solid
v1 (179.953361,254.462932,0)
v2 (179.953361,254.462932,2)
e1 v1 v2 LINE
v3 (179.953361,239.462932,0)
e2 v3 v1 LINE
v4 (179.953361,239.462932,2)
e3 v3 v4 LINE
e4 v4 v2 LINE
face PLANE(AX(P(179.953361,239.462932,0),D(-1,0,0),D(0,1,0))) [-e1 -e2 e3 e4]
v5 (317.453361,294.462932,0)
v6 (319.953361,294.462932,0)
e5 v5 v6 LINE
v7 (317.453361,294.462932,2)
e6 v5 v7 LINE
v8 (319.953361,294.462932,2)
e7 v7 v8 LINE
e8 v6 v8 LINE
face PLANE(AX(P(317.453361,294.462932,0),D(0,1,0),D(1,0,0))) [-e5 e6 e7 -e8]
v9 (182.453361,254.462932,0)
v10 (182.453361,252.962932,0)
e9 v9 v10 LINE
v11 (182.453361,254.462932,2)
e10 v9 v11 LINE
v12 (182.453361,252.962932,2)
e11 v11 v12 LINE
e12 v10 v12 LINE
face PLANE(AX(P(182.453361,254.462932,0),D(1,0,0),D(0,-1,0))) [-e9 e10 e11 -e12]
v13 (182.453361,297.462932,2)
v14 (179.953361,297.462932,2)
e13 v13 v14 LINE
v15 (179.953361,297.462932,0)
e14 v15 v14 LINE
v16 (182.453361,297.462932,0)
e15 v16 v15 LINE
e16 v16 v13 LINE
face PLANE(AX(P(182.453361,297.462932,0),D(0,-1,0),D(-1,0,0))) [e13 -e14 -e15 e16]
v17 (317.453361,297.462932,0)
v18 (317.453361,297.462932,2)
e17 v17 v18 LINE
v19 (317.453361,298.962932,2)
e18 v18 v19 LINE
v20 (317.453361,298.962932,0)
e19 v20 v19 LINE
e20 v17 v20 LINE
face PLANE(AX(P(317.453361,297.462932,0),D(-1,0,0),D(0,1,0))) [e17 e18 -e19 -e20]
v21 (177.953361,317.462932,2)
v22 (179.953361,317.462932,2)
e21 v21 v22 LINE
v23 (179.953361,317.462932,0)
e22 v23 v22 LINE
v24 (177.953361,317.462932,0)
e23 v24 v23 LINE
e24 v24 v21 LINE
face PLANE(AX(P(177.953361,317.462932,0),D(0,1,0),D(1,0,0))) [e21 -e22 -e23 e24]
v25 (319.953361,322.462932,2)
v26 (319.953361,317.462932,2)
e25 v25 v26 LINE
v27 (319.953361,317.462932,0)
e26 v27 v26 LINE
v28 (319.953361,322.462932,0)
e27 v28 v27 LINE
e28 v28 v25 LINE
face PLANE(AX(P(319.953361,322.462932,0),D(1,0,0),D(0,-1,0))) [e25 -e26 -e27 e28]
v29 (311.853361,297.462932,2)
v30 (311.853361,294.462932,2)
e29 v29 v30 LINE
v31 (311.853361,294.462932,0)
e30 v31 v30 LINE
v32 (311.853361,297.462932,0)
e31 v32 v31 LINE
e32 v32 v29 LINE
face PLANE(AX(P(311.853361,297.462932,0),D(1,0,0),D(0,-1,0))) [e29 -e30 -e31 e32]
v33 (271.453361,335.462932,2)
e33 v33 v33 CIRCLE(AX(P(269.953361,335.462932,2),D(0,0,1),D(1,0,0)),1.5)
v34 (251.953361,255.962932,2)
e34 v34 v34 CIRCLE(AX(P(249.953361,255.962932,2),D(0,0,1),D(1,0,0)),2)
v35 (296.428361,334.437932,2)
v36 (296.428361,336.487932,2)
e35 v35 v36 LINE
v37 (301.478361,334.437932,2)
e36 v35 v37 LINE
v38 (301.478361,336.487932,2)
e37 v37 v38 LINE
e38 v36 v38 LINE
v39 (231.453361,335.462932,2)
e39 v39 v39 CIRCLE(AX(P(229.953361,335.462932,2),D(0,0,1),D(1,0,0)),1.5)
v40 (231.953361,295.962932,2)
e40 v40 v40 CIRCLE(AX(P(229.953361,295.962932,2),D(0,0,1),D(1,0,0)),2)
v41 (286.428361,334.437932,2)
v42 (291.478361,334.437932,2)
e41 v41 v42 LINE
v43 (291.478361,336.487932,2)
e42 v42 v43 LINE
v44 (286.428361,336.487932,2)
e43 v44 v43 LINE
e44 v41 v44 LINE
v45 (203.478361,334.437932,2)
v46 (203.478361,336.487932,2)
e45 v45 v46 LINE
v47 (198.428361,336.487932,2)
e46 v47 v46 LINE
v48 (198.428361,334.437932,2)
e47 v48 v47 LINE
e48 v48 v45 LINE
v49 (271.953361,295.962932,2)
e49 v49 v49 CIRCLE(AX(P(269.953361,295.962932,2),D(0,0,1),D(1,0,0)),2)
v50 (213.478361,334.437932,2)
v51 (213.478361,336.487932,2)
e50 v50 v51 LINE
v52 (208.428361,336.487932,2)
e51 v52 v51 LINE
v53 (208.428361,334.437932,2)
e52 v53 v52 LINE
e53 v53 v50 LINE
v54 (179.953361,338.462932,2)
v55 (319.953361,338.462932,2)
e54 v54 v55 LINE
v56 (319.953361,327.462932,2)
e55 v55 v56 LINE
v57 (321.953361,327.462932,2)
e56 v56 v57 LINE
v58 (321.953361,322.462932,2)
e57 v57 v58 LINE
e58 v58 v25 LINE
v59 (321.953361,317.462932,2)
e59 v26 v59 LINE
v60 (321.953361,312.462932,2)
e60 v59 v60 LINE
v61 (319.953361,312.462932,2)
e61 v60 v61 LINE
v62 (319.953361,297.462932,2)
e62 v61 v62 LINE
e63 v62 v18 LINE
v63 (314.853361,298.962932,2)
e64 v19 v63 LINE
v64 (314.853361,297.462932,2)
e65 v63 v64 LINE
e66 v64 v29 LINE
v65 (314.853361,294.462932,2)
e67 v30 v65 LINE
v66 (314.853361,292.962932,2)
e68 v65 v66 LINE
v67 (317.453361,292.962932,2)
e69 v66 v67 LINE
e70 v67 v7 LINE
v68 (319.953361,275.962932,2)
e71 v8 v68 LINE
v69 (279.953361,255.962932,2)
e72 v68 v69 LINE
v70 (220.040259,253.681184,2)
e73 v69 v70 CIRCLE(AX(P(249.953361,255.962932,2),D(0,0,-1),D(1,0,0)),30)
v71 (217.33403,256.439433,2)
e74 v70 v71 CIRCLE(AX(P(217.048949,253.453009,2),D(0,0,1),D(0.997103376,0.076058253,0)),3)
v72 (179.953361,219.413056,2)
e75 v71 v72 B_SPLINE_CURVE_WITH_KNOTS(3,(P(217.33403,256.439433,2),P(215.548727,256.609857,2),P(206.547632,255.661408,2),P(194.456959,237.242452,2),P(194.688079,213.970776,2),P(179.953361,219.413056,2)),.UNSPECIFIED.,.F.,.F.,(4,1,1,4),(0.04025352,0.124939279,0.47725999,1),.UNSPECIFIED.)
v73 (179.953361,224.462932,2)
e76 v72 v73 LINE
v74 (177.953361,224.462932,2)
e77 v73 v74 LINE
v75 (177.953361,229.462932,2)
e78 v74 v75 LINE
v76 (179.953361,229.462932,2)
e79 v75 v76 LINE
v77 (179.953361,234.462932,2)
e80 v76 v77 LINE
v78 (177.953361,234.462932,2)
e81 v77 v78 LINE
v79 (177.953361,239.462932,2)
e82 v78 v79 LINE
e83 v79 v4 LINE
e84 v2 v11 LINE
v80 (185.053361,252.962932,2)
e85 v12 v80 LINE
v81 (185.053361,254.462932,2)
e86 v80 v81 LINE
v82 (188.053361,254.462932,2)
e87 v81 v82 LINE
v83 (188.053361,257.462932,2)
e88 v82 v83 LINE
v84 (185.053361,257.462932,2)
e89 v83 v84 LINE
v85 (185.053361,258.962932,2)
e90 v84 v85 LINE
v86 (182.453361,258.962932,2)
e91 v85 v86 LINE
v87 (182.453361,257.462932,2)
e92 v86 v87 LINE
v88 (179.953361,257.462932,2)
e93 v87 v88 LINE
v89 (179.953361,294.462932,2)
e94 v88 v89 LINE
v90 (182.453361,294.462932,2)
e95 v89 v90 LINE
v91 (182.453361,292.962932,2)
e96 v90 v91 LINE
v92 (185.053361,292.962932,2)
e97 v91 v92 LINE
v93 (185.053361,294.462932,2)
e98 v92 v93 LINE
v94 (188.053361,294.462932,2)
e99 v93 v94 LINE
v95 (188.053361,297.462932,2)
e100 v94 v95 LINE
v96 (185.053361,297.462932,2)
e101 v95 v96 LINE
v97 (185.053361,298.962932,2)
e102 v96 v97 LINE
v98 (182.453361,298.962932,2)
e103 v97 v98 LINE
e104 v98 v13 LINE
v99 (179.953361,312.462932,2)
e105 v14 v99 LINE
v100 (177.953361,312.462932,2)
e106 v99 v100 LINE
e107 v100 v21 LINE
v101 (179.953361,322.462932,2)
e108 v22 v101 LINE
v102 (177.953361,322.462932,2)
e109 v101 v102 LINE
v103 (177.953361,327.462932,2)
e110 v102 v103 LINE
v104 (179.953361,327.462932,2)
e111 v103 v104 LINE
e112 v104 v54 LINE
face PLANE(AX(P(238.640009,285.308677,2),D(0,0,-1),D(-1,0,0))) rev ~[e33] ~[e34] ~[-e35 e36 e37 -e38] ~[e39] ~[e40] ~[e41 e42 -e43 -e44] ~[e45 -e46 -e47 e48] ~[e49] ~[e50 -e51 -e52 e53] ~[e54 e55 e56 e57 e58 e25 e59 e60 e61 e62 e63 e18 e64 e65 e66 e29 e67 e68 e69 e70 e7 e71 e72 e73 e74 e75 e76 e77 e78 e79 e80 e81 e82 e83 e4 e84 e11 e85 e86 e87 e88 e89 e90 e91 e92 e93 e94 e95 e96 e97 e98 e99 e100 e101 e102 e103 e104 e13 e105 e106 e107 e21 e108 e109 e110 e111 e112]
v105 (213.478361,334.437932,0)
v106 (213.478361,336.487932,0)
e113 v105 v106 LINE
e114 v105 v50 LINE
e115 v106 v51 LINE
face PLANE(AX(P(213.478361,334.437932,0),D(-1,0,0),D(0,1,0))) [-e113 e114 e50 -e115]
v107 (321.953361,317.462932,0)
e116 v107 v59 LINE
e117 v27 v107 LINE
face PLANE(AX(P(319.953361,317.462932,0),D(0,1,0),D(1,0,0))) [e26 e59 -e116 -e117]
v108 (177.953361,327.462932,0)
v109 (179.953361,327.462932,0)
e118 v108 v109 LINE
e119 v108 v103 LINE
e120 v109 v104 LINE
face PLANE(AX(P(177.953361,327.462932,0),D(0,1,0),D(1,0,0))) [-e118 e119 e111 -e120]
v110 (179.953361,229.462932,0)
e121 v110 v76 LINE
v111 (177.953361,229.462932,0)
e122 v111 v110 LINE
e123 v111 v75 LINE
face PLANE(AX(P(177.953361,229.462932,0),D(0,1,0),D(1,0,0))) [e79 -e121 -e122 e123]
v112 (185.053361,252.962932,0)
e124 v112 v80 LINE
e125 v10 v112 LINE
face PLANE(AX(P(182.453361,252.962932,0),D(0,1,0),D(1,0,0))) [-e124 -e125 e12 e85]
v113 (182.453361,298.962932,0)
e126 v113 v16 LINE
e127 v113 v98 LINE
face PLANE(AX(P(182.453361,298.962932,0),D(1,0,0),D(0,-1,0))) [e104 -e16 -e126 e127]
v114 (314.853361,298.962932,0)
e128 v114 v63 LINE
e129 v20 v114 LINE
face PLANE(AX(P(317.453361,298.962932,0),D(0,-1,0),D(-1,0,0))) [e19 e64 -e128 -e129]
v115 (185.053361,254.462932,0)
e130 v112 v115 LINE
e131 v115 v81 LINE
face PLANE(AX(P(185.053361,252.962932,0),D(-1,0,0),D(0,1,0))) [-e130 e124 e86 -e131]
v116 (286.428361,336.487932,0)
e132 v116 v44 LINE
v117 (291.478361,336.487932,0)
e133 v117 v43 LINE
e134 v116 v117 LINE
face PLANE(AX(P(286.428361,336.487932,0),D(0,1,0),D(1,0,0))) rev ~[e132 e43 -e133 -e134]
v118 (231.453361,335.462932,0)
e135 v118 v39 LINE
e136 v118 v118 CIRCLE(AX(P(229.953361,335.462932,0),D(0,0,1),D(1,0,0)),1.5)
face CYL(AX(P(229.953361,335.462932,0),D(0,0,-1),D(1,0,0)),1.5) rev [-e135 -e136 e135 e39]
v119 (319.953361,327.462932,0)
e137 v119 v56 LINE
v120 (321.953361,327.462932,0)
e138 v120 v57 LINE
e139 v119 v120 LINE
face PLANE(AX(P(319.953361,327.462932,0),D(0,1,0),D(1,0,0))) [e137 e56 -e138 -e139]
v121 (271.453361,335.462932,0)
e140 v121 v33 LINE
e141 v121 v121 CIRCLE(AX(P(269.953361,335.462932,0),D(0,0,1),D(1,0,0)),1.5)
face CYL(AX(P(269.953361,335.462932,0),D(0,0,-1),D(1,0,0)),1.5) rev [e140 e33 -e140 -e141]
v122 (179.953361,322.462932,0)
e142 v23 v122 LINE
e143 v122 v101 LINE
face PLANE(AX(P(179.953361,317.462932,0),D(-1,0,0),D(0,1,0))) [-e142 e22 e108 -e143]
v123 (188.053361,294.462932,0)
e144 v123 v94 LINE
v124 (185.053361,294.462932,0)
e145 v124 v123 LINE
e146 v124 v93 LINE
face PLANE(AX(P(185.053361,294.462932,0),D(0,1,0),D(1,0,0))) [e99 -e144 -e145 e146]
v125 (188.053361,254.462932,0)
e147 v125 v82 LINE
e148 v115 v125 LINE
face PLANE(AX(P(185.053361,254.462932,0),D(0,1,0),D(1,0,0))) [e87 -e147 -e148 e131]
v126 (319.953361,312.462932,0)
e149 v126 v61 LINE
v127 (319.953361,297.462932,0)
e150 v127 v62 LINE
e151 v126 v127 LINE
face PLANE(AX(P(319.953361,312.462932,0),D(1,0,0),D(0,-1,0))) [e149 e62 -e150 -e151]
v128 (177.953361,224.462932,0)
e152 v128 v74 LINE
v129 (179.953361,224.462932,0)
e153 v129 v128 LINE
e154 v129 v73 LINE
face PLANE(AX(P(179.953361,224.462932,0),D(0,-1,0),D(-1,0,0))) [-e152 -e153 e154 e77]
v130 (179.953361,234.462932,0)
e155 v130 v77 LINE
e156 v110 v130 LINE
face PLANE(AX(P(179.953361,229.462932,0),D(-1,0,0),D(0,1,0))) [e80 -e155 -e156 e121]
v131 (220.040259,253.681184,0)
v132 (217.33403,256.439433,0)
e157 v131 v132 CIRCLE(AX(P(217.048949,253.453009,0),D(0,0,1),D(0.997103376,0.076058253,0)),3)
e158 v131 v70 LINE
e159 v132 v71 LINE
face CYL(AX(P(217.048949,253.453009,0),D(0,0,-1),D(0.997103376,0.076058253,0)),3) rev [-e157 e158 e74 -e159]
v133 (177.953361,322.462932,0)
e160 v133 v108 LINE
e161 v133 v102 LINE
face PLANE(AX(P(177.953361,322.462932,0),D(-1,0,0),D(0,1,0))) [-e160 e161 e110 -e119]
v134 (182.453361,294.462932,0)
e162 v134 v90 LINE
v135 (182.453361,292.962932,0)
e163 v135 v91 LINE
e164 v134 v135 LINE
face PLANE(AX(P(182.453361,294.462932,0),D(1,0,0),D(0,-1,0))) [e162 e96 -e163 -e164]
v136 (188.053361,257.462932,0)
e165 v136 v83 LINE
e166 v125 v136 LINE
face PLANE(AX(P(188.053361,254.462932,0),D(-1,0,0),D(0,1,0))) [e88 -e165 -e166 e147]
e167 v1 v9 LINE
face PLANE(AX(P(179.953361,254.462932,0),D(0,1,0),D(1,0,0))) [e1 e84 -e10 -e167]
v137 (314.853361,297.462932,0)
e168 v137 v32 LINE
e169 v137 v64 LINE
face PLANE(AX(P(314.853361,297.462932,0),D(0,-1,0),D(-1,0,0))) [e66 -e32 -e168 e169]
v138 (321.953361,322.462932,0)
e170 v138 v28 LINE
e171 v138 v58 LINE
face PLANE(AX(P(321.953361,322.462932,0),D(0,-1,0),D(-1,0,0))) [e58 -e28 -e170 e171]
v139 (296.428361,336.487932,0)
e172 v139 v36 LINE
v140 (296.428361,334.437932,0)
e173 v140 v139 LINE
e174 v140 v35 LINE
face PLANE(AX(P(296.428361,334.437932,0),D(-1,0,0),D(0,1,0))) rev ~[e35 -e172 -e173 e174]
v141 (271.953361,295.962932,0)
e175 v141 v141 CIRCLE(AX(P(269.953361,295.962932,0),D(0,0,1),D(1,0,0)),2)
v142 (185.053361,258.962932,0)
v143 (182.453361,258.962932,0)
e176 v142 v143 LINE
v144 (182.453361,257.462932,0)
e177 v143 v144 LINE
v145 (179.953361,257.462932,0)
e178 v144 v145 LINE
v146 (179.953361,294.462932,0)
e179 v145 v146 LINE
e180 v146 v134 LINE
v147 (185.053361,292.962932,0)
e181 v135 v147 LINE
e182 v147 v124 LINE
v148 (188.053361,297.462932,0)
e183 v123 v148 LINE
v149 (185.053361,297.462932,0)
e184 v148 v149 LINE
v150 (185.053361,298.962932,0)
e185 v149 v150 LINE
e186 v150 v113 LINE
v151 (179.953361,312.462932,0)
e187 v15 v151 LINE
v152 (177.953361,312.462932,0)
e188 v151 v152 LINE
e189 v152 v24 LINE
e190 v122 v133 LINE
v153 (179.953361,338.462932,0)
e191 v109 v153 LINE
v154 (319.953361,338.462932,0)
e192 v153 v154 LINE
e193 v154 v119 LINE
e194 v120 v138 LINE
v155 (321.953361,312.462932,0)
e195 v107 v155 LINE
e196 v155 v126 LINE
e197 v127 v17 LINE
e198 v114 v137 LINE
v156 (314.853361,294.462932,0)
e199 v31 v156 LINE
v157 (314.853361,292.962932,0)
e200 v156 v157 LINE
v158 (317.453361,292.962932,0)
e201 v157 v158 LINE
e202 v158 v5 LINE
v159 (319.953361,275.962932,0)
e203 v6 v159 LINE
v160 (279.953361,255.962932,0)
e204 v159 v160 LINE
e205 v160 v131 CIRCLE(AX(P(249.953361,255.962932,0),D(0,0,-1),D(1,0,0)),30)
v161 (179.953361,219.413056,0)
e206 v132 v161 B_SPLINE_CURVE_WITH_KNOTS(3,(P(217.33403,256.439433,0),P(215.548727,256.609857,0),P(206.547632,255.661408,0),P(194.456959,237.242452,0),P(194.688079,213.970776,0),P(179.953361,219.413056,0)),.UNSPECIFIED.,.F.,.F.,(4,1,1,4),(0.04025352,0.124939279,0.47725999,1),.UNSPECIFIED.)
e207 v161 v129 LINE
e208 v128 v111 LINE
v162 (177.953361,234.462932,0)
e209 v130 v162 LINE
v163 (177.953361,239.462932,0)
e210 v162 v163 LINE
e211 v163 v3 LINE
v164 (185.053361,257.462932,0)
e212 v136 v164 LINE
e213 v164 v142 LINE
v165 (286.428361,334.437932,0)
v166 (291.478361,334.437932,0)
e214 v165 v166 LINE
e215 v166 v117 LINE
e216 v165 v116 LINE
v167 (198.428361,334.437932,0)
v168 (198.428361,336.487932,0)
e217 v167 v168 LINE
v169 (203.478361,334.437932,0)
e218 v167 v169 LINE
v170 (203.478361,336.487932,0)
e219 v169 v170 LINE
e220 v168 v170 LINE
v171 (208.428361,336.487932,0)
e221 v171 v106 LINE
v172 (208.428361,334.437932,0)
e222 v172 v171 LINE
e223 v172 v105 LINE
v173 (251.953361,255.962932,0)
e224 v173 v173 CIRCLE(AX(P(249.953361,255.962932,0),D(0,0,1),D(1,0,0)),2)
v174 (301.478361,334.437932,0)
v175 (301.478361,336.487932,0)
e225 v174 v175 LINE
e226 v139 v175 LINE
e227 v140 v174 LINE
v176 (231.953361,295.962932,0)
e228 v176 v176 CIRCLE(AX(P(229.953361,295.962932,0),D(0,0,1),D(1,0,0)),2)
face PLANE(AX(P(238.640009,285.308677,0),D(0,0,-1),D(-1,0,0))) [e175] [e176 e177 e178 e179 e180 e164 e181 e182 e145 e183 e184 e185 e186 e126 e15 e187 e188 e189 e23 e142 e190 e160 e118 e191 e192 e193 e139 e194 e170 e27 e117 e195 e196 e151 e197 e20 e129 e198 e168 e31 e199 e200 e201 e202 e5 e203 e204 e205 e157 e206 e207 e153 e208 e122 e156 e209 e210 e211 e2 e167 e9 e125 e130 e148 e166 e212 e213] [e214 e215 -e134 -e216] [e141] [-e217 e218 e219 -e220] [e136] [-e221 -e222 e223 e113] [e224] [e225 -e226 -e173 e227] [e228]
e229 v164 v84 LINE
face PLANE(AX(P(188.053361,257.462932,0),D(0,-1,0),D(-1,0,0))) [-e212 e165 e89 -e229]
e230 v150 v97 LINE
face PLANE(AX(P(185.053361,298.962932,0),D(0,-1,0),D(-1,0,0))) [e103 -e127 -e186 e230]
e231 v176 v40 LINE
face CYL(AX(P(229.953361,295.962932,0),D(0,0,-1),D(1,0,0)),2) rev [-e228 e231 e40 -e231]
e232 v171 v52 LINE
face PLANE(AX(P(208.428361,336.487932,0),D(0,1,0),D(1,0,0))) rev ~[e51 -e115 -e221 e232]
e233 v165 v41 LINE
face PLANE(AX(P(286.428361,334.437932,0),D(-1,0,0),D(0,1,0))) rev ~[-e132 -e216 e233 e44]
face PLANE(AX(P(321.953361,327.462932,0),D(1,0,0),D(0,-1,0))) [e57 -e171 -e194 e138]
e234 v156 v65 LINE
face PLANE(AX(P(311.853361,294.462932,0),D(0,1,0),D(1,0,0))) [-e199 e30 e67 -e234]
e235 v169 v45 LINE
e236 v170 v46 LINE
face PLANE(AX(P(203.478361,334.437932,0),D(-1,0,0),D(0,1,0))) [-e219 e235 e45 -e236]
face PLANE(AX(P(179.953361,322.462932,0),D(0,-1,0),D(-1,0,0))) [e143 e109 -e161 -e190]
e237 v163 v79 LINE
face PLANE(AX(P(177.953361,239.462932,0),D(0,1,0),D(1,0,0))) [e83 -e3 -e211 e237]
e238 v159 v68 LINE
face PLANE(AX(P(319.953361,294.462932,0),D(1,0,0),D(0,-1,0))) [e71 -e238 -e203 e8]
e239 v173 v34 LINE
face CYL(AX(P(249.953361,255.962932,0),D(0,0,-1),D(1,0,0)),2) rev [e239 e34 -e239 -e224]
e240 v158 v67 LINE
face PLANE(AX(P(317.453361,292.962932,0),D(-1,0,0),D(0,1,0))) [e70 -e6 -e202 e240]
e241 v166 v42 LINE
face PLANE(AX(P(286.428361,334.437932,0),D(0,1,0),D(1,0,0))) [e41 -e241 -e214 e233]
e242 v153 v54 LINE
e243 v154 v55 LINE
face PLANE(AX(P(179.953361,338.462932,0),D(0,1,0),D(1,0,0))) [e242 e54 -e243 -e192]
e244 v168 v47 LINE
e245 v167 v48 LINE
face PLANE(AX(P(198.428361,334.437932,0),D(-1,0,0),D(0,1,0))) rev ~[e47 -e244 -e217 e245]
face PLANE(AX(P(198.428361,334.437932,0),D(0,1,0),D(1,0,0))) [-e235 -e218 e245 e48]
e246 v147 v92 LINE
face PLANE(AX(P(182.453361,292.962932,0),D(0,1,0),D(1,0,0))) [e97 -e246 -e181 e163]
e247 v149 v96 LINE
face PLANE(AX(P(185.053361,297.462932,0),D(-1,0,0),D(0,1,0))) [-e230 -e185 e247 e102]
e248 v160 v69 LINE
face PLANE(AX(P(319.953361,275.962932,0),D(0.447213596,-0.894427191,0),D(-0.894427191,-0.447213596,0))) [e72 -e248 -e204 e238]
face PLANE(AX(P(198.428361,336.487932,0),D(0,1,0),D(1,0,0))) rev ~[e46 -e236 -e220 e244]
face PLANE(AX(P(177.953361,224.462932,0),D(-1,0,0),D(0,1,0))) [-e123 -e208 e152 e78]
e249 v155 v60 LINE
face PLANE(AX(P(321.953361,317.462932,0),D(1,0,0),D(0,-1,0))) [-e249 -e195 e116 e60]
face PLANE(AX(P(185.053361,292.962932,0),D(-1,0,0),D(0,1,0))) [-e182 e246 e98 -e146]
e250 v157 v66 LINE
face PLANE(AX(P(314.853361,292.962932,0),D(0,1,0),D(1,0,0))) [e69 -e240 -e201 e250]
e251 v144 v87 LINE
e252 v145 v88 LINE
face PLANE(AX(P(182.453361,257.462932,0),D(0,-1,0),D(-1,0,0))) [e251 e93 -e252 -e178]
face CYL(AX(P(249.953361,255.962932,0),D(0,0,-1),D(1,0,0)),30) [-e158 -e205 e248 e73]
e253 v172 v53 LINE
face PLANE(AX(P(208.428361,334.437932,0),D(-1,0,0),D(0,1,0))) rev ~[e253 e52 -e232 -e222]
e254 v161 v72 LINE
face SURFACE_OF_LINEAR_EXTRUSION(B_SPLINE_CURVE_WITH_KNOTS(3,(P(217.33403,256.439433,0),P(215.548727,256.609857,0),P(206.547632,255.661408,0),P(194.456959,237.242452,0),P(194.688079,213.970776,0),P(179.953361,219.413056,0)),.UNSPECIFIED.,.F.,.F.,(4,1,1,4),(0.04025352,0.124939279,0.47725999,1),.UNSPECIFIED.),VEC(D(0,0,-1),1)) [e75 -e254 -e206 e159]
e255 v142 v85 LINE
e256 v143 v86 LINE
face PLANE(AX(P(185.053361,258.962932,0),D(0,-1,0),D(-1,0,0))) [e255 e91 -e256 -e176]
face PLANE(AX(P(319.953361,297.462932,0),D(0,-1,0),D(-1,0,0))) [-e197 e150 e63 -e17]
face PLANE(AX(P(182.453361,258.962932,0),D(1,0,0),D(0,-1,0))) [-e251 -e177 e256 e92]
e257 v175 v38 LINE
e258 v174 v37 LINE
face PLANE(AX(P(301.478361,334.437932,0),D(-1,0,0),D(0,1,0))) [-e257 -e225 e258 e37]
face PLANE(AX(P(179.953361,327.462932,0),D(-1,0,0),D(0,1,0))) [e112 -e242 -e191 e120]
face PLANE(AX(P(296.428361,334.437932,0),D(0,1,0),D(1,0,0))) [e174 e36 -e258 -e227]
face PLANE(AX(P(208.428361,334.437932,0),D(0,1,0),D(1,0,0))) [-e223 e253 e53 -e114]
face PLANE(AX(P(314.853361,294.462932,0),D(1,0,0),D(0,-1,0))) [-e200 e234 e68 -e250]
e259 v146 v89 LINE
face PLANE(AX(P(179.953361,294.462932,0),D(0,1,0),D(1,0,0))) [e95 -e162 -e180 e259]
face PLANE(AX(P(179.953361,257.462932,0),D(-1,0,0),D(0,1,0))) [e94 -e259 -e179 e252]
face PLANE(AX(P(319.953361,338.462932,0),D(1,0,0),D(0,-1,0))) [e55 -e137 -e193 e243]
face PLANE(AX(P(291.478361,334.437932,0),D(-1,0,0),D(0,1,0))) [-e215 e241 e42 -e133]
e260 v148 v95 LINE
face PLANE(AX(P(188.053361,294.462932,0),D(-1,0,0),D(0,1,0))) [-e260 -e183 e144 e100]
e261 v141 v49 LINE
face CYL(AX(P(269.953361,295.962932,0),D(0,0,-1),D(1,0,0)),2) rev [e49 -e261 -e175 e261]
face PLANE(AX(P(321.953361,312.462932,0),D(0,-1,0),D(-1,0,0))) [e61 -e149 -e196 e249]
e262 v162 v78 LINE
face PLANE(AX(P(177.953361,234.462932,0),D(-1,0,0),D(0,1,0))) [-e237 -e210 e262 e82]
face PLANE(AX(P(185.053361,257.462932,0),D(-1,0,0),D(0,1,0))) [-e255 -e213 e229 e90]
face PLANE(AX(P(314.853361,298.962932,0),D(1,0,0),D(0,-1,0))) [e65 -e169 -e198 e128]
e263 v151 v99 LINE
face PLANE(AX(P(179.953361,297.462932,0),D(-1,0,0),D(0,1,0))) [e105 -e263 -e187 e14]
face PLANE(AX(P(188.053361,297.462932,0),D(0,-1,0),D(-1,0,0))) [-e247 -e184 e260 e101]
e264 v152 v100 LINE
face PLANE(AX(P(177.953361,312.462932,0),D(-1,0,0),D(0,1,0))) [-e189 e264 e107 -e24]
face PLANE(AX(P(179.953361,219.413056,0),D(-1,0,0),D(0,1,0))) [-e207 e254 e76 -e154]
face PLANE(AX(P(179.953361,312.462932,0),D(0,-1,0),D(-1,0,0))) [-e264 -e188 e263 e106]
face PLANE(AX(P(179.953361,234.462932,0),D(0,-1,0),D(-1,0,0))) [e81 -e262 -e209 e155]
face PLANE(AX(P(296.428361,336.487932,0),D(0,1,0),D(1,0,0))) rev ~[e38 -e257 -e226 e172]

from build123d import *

# Parameters (mm, degrees)
SKETCH_1_R      = 2
SKETCH_1_R_2    = 1.5
SKETCH_1_W      = 5.05
SKETCH_1_H      = 2.05
EXTRUDE_1_DEPTH = 2


with BuildPart() as part:
    # 草图1 → 凸台-拉伸1 (new body)
    with BuildSketch(Plane.XY):
        with BuildLine():
            Line((317.453360513, 294.462931603), (319.953360513, 294.462931603))
            Line((319.953360513, 294.462931603), (319.953360513, 275.962931603))
            Line((319.953360513, 275.962931603), (279.953360513, 255.962931603))
            ThreePointArc((279.953360513, 255.962931603), (251.095061372, 225.984664155), (220.040259237, 253.681184024))
            ThreePointArc((220.040259237, 253.681184024), (219.19036683, 255.554039999), (217.334030317, 256.439433332))
            add(Edge.make_bspline(
                [(217.334030317, 256.439433332), (215.548727104, 256.609856683), (206.547632182, 255.661407624), (194.456958912, 237.242452466), (194.688078584, 213.970775709), (179.953360513, 219.413055772)],
                knots=[0.04025352, 0.04025352, 0.04025352, 0.04025352, 0.124939279, 0.47725999, 1, 1, 1, 1], degree=3))
            Line((179.953360513, 219.413055772), (179.953360513, 224.462931603))
            Line((179.953360513, 224.462931603), (177.953360513, 224.462931603))
            Line((177.953360513, 224.462931603), (177.953360513, 229.462931603))
            Line((177.953360513, 229.462931603), (179.953360513, 229.462931603))
            Line((179.953360513, 229.462931603), (179.953360513, 234.462931603))
            Line((179.953360513, 234.462931603), (177.953360513, 234.462931603))
            Line((177.953360513, 234.462931603), (177.953360513, 239.462931603))
            Line((177.953360513, 239.462931603), (179.953360513, 239.462931603))
            Line((179.953360513, 239.462931603), (179.953360513, 254.462931603))
            Line((179.953360513, 254.462931603), (182.453360513, 254.462931603))
            Line((182.453360513, 254.462931603), (182.453360513, 252.962931602))
            Line((182.453360513, 252.962931602), (185.053360513, 252.962931602))
            Line((185.053360513, 252.962931602), (185.053360513, 254.462931603))
            Line((185.053360513, 254.462931603), (188.053360513, 254.462931603))
            Line((188.053360513, 254.462931603), (188.053360513, 257.462931602))
            Line((188.053360513, 257.462931602), (185.053360513, 257.462931602))
            Line((185.053360513, 257.462931602), (185.053360513, 258.962931602))
            Line((185.053360513, 258.962931602), (182.453360513, 258.962931602))
            Line((182.453360513, 258.962931602), (182.453360513, 257.462931603))
            Line((182.453360513, 257.462931603), (179.953360513, 257.462931603))
            Line((179.953360513, 257.462931603), (179.953360513, 294.462931603))
            Line((179.953360513, 294.462931603), (182.453360513, 294.462931603))
            Line((182.453360513, 294.462931603), (182.453360513, 292.962931603))
            Line((182.453360513, 292.962931603), (185.053360513, 292.962931603))
            Line((185.053360513, 292.962931603), (185.053360513, 294.462931603))
            Line((185.053360513, 294.462931603), (188.053360513, 294.462931603))
            Line((188.053360513, 294.462931603), (188.053360513, 297.462931603))
            Line((188.053360513, 297.462931603), (185.053360513, 297.462931603))
            Line((185.053360513, 297.462931603), (185.053360513, 298.962931603))
            Line((185.053360513, 298.962931603), (182.453360513, 298.962931603))
            Line((182.453360513, 298.962931603), (182.453360513, 297.462931603))
            Line((182.453360513, 297.462931603), (179.953360513, 297.462931603))
            Line((179.953360513, 297.462931603), (179.953360513, 312.462931603))
            Line((179.953360513, 312.462931603), (177.953360513, 312.462931603))
            Line((177.953360513, 312.462931603), (177.953360513, 317.462931603))
            Line((177.953360513, 317.462931603), (179.953360513, 317.462931603))
            Line((179.953360513, 317.462931603), (179.953360513, 322.462931603))
            Line((179.953360513, 322.462931603), (177.953360513, 322.462931603))
            Line((177.953360513, 322.462931603), (177.953360513, 327.462931603))
            Line((177.953360513, 327.462931603), (179.953360513, 327.462931603))
            Line((179.953360513, 327.462931603), (179.953360513, 338.462931603))
            Line((179.953360513, 338.462931603), (319.953360513, 338.462931603))
            Line((319.953360513, 338.462931603), (319.953360513, 327.462931603))
            Line((319.953360513, 327.462931603), (321.953360513, 327.462931603))
            Line((321.953360513, 327.462931603), (321.953360513, 322.462931603))
            Line((321.953360513, 322.462931603), (319.953360513, 322.462931603))
            Line((319.953360513, 322.462931603), (319.953360513, 317.462931603))
            Line((319.953360513, 317.462931603), (321.953360513, 317.462931603))
            Line((321.953360513, 317.462931603), (321.953360513, 312.462931603))
            Line((321.953360513, 312.462931603), (319.953360513, 312.462931603))
            Line((319.953360513, 312.462931603), (319.953360513, 297.462931603))
            Line((319.953360513, 297.462931603), (317.453360513, 297.462931603))
            Line((317.453360513, 297.462931603), (317.453360513, 298.962931603))
            Line((317.453360513, 298.962931603), (314.853360513, 298.962931603))
            Line((314.853360513, 298.962931603), (314.853360513, 297.462931603))
            Line((314.853360513, 297.462931603), (311.853360513, 297.462931603))
            Line((311.853360513, 297.462931603), (311.853360513, 294.462931603))
            Line((311.853360513, 294.462931603), (314.853360513, 294.462931603))
            Line((314.853360513, 294.462931603), (314.853360513, 292.962931603))
            Line((314.853360513, 292.962931603), (317.453360513, 292.962931603))
            Line((317.453360513, 292.962931603), (317.453360513, 294.462931603))
        make_face()
        with Locations((249.953360513, 255.962931603)):
            Circle(SKETCH_1_R, mode=Mode.SUBTRACT)
        with Locations((229.953360513, 335.462931603)):
            Circle(SKETCH_1_R_2, mode=Mode.SUBTRACT)
        with Locations((269.953360513, 335.462931603)):
            Circle(SKETCH_1_R_2, mode=Mode.SUBTRACT)
        with Locations((229.953360513, 295.962931603)):
            Circle(SKETCH_1_R, mode=Mode.SUBTRACT)
        with Locations((269.953360513, 295.962931603)):
            Circle(SKETCH_1_R, mode=Mode.SUBTRACT)
        with Locations((288.953360513, 335.462931603)):
            Rectangle(SKETCH_1_W, SKETCH_1_H, mode=Mode.SUBTRACT)
        with Locations((298.953360513, 335.462931603)):
            Rectangle(SKETCH_1_W, SKETCH_1_H, mode=Mode.SUBTRACT)
        with Locations((200.953360513, 335.462931603)):
            Rectangle(SKETCH_1_W, SKETCH_1_H, mode=Mode.SUBTRACT)
        with Locations((210.953360513, 335.462931603)):
            Rectangle(SKETCH_1_W, SKETCH_1_H, mode=Mode.SUBTRACT)
    extrude(amount=EXTRUDE_1_DEPTH)


solid = part.part
